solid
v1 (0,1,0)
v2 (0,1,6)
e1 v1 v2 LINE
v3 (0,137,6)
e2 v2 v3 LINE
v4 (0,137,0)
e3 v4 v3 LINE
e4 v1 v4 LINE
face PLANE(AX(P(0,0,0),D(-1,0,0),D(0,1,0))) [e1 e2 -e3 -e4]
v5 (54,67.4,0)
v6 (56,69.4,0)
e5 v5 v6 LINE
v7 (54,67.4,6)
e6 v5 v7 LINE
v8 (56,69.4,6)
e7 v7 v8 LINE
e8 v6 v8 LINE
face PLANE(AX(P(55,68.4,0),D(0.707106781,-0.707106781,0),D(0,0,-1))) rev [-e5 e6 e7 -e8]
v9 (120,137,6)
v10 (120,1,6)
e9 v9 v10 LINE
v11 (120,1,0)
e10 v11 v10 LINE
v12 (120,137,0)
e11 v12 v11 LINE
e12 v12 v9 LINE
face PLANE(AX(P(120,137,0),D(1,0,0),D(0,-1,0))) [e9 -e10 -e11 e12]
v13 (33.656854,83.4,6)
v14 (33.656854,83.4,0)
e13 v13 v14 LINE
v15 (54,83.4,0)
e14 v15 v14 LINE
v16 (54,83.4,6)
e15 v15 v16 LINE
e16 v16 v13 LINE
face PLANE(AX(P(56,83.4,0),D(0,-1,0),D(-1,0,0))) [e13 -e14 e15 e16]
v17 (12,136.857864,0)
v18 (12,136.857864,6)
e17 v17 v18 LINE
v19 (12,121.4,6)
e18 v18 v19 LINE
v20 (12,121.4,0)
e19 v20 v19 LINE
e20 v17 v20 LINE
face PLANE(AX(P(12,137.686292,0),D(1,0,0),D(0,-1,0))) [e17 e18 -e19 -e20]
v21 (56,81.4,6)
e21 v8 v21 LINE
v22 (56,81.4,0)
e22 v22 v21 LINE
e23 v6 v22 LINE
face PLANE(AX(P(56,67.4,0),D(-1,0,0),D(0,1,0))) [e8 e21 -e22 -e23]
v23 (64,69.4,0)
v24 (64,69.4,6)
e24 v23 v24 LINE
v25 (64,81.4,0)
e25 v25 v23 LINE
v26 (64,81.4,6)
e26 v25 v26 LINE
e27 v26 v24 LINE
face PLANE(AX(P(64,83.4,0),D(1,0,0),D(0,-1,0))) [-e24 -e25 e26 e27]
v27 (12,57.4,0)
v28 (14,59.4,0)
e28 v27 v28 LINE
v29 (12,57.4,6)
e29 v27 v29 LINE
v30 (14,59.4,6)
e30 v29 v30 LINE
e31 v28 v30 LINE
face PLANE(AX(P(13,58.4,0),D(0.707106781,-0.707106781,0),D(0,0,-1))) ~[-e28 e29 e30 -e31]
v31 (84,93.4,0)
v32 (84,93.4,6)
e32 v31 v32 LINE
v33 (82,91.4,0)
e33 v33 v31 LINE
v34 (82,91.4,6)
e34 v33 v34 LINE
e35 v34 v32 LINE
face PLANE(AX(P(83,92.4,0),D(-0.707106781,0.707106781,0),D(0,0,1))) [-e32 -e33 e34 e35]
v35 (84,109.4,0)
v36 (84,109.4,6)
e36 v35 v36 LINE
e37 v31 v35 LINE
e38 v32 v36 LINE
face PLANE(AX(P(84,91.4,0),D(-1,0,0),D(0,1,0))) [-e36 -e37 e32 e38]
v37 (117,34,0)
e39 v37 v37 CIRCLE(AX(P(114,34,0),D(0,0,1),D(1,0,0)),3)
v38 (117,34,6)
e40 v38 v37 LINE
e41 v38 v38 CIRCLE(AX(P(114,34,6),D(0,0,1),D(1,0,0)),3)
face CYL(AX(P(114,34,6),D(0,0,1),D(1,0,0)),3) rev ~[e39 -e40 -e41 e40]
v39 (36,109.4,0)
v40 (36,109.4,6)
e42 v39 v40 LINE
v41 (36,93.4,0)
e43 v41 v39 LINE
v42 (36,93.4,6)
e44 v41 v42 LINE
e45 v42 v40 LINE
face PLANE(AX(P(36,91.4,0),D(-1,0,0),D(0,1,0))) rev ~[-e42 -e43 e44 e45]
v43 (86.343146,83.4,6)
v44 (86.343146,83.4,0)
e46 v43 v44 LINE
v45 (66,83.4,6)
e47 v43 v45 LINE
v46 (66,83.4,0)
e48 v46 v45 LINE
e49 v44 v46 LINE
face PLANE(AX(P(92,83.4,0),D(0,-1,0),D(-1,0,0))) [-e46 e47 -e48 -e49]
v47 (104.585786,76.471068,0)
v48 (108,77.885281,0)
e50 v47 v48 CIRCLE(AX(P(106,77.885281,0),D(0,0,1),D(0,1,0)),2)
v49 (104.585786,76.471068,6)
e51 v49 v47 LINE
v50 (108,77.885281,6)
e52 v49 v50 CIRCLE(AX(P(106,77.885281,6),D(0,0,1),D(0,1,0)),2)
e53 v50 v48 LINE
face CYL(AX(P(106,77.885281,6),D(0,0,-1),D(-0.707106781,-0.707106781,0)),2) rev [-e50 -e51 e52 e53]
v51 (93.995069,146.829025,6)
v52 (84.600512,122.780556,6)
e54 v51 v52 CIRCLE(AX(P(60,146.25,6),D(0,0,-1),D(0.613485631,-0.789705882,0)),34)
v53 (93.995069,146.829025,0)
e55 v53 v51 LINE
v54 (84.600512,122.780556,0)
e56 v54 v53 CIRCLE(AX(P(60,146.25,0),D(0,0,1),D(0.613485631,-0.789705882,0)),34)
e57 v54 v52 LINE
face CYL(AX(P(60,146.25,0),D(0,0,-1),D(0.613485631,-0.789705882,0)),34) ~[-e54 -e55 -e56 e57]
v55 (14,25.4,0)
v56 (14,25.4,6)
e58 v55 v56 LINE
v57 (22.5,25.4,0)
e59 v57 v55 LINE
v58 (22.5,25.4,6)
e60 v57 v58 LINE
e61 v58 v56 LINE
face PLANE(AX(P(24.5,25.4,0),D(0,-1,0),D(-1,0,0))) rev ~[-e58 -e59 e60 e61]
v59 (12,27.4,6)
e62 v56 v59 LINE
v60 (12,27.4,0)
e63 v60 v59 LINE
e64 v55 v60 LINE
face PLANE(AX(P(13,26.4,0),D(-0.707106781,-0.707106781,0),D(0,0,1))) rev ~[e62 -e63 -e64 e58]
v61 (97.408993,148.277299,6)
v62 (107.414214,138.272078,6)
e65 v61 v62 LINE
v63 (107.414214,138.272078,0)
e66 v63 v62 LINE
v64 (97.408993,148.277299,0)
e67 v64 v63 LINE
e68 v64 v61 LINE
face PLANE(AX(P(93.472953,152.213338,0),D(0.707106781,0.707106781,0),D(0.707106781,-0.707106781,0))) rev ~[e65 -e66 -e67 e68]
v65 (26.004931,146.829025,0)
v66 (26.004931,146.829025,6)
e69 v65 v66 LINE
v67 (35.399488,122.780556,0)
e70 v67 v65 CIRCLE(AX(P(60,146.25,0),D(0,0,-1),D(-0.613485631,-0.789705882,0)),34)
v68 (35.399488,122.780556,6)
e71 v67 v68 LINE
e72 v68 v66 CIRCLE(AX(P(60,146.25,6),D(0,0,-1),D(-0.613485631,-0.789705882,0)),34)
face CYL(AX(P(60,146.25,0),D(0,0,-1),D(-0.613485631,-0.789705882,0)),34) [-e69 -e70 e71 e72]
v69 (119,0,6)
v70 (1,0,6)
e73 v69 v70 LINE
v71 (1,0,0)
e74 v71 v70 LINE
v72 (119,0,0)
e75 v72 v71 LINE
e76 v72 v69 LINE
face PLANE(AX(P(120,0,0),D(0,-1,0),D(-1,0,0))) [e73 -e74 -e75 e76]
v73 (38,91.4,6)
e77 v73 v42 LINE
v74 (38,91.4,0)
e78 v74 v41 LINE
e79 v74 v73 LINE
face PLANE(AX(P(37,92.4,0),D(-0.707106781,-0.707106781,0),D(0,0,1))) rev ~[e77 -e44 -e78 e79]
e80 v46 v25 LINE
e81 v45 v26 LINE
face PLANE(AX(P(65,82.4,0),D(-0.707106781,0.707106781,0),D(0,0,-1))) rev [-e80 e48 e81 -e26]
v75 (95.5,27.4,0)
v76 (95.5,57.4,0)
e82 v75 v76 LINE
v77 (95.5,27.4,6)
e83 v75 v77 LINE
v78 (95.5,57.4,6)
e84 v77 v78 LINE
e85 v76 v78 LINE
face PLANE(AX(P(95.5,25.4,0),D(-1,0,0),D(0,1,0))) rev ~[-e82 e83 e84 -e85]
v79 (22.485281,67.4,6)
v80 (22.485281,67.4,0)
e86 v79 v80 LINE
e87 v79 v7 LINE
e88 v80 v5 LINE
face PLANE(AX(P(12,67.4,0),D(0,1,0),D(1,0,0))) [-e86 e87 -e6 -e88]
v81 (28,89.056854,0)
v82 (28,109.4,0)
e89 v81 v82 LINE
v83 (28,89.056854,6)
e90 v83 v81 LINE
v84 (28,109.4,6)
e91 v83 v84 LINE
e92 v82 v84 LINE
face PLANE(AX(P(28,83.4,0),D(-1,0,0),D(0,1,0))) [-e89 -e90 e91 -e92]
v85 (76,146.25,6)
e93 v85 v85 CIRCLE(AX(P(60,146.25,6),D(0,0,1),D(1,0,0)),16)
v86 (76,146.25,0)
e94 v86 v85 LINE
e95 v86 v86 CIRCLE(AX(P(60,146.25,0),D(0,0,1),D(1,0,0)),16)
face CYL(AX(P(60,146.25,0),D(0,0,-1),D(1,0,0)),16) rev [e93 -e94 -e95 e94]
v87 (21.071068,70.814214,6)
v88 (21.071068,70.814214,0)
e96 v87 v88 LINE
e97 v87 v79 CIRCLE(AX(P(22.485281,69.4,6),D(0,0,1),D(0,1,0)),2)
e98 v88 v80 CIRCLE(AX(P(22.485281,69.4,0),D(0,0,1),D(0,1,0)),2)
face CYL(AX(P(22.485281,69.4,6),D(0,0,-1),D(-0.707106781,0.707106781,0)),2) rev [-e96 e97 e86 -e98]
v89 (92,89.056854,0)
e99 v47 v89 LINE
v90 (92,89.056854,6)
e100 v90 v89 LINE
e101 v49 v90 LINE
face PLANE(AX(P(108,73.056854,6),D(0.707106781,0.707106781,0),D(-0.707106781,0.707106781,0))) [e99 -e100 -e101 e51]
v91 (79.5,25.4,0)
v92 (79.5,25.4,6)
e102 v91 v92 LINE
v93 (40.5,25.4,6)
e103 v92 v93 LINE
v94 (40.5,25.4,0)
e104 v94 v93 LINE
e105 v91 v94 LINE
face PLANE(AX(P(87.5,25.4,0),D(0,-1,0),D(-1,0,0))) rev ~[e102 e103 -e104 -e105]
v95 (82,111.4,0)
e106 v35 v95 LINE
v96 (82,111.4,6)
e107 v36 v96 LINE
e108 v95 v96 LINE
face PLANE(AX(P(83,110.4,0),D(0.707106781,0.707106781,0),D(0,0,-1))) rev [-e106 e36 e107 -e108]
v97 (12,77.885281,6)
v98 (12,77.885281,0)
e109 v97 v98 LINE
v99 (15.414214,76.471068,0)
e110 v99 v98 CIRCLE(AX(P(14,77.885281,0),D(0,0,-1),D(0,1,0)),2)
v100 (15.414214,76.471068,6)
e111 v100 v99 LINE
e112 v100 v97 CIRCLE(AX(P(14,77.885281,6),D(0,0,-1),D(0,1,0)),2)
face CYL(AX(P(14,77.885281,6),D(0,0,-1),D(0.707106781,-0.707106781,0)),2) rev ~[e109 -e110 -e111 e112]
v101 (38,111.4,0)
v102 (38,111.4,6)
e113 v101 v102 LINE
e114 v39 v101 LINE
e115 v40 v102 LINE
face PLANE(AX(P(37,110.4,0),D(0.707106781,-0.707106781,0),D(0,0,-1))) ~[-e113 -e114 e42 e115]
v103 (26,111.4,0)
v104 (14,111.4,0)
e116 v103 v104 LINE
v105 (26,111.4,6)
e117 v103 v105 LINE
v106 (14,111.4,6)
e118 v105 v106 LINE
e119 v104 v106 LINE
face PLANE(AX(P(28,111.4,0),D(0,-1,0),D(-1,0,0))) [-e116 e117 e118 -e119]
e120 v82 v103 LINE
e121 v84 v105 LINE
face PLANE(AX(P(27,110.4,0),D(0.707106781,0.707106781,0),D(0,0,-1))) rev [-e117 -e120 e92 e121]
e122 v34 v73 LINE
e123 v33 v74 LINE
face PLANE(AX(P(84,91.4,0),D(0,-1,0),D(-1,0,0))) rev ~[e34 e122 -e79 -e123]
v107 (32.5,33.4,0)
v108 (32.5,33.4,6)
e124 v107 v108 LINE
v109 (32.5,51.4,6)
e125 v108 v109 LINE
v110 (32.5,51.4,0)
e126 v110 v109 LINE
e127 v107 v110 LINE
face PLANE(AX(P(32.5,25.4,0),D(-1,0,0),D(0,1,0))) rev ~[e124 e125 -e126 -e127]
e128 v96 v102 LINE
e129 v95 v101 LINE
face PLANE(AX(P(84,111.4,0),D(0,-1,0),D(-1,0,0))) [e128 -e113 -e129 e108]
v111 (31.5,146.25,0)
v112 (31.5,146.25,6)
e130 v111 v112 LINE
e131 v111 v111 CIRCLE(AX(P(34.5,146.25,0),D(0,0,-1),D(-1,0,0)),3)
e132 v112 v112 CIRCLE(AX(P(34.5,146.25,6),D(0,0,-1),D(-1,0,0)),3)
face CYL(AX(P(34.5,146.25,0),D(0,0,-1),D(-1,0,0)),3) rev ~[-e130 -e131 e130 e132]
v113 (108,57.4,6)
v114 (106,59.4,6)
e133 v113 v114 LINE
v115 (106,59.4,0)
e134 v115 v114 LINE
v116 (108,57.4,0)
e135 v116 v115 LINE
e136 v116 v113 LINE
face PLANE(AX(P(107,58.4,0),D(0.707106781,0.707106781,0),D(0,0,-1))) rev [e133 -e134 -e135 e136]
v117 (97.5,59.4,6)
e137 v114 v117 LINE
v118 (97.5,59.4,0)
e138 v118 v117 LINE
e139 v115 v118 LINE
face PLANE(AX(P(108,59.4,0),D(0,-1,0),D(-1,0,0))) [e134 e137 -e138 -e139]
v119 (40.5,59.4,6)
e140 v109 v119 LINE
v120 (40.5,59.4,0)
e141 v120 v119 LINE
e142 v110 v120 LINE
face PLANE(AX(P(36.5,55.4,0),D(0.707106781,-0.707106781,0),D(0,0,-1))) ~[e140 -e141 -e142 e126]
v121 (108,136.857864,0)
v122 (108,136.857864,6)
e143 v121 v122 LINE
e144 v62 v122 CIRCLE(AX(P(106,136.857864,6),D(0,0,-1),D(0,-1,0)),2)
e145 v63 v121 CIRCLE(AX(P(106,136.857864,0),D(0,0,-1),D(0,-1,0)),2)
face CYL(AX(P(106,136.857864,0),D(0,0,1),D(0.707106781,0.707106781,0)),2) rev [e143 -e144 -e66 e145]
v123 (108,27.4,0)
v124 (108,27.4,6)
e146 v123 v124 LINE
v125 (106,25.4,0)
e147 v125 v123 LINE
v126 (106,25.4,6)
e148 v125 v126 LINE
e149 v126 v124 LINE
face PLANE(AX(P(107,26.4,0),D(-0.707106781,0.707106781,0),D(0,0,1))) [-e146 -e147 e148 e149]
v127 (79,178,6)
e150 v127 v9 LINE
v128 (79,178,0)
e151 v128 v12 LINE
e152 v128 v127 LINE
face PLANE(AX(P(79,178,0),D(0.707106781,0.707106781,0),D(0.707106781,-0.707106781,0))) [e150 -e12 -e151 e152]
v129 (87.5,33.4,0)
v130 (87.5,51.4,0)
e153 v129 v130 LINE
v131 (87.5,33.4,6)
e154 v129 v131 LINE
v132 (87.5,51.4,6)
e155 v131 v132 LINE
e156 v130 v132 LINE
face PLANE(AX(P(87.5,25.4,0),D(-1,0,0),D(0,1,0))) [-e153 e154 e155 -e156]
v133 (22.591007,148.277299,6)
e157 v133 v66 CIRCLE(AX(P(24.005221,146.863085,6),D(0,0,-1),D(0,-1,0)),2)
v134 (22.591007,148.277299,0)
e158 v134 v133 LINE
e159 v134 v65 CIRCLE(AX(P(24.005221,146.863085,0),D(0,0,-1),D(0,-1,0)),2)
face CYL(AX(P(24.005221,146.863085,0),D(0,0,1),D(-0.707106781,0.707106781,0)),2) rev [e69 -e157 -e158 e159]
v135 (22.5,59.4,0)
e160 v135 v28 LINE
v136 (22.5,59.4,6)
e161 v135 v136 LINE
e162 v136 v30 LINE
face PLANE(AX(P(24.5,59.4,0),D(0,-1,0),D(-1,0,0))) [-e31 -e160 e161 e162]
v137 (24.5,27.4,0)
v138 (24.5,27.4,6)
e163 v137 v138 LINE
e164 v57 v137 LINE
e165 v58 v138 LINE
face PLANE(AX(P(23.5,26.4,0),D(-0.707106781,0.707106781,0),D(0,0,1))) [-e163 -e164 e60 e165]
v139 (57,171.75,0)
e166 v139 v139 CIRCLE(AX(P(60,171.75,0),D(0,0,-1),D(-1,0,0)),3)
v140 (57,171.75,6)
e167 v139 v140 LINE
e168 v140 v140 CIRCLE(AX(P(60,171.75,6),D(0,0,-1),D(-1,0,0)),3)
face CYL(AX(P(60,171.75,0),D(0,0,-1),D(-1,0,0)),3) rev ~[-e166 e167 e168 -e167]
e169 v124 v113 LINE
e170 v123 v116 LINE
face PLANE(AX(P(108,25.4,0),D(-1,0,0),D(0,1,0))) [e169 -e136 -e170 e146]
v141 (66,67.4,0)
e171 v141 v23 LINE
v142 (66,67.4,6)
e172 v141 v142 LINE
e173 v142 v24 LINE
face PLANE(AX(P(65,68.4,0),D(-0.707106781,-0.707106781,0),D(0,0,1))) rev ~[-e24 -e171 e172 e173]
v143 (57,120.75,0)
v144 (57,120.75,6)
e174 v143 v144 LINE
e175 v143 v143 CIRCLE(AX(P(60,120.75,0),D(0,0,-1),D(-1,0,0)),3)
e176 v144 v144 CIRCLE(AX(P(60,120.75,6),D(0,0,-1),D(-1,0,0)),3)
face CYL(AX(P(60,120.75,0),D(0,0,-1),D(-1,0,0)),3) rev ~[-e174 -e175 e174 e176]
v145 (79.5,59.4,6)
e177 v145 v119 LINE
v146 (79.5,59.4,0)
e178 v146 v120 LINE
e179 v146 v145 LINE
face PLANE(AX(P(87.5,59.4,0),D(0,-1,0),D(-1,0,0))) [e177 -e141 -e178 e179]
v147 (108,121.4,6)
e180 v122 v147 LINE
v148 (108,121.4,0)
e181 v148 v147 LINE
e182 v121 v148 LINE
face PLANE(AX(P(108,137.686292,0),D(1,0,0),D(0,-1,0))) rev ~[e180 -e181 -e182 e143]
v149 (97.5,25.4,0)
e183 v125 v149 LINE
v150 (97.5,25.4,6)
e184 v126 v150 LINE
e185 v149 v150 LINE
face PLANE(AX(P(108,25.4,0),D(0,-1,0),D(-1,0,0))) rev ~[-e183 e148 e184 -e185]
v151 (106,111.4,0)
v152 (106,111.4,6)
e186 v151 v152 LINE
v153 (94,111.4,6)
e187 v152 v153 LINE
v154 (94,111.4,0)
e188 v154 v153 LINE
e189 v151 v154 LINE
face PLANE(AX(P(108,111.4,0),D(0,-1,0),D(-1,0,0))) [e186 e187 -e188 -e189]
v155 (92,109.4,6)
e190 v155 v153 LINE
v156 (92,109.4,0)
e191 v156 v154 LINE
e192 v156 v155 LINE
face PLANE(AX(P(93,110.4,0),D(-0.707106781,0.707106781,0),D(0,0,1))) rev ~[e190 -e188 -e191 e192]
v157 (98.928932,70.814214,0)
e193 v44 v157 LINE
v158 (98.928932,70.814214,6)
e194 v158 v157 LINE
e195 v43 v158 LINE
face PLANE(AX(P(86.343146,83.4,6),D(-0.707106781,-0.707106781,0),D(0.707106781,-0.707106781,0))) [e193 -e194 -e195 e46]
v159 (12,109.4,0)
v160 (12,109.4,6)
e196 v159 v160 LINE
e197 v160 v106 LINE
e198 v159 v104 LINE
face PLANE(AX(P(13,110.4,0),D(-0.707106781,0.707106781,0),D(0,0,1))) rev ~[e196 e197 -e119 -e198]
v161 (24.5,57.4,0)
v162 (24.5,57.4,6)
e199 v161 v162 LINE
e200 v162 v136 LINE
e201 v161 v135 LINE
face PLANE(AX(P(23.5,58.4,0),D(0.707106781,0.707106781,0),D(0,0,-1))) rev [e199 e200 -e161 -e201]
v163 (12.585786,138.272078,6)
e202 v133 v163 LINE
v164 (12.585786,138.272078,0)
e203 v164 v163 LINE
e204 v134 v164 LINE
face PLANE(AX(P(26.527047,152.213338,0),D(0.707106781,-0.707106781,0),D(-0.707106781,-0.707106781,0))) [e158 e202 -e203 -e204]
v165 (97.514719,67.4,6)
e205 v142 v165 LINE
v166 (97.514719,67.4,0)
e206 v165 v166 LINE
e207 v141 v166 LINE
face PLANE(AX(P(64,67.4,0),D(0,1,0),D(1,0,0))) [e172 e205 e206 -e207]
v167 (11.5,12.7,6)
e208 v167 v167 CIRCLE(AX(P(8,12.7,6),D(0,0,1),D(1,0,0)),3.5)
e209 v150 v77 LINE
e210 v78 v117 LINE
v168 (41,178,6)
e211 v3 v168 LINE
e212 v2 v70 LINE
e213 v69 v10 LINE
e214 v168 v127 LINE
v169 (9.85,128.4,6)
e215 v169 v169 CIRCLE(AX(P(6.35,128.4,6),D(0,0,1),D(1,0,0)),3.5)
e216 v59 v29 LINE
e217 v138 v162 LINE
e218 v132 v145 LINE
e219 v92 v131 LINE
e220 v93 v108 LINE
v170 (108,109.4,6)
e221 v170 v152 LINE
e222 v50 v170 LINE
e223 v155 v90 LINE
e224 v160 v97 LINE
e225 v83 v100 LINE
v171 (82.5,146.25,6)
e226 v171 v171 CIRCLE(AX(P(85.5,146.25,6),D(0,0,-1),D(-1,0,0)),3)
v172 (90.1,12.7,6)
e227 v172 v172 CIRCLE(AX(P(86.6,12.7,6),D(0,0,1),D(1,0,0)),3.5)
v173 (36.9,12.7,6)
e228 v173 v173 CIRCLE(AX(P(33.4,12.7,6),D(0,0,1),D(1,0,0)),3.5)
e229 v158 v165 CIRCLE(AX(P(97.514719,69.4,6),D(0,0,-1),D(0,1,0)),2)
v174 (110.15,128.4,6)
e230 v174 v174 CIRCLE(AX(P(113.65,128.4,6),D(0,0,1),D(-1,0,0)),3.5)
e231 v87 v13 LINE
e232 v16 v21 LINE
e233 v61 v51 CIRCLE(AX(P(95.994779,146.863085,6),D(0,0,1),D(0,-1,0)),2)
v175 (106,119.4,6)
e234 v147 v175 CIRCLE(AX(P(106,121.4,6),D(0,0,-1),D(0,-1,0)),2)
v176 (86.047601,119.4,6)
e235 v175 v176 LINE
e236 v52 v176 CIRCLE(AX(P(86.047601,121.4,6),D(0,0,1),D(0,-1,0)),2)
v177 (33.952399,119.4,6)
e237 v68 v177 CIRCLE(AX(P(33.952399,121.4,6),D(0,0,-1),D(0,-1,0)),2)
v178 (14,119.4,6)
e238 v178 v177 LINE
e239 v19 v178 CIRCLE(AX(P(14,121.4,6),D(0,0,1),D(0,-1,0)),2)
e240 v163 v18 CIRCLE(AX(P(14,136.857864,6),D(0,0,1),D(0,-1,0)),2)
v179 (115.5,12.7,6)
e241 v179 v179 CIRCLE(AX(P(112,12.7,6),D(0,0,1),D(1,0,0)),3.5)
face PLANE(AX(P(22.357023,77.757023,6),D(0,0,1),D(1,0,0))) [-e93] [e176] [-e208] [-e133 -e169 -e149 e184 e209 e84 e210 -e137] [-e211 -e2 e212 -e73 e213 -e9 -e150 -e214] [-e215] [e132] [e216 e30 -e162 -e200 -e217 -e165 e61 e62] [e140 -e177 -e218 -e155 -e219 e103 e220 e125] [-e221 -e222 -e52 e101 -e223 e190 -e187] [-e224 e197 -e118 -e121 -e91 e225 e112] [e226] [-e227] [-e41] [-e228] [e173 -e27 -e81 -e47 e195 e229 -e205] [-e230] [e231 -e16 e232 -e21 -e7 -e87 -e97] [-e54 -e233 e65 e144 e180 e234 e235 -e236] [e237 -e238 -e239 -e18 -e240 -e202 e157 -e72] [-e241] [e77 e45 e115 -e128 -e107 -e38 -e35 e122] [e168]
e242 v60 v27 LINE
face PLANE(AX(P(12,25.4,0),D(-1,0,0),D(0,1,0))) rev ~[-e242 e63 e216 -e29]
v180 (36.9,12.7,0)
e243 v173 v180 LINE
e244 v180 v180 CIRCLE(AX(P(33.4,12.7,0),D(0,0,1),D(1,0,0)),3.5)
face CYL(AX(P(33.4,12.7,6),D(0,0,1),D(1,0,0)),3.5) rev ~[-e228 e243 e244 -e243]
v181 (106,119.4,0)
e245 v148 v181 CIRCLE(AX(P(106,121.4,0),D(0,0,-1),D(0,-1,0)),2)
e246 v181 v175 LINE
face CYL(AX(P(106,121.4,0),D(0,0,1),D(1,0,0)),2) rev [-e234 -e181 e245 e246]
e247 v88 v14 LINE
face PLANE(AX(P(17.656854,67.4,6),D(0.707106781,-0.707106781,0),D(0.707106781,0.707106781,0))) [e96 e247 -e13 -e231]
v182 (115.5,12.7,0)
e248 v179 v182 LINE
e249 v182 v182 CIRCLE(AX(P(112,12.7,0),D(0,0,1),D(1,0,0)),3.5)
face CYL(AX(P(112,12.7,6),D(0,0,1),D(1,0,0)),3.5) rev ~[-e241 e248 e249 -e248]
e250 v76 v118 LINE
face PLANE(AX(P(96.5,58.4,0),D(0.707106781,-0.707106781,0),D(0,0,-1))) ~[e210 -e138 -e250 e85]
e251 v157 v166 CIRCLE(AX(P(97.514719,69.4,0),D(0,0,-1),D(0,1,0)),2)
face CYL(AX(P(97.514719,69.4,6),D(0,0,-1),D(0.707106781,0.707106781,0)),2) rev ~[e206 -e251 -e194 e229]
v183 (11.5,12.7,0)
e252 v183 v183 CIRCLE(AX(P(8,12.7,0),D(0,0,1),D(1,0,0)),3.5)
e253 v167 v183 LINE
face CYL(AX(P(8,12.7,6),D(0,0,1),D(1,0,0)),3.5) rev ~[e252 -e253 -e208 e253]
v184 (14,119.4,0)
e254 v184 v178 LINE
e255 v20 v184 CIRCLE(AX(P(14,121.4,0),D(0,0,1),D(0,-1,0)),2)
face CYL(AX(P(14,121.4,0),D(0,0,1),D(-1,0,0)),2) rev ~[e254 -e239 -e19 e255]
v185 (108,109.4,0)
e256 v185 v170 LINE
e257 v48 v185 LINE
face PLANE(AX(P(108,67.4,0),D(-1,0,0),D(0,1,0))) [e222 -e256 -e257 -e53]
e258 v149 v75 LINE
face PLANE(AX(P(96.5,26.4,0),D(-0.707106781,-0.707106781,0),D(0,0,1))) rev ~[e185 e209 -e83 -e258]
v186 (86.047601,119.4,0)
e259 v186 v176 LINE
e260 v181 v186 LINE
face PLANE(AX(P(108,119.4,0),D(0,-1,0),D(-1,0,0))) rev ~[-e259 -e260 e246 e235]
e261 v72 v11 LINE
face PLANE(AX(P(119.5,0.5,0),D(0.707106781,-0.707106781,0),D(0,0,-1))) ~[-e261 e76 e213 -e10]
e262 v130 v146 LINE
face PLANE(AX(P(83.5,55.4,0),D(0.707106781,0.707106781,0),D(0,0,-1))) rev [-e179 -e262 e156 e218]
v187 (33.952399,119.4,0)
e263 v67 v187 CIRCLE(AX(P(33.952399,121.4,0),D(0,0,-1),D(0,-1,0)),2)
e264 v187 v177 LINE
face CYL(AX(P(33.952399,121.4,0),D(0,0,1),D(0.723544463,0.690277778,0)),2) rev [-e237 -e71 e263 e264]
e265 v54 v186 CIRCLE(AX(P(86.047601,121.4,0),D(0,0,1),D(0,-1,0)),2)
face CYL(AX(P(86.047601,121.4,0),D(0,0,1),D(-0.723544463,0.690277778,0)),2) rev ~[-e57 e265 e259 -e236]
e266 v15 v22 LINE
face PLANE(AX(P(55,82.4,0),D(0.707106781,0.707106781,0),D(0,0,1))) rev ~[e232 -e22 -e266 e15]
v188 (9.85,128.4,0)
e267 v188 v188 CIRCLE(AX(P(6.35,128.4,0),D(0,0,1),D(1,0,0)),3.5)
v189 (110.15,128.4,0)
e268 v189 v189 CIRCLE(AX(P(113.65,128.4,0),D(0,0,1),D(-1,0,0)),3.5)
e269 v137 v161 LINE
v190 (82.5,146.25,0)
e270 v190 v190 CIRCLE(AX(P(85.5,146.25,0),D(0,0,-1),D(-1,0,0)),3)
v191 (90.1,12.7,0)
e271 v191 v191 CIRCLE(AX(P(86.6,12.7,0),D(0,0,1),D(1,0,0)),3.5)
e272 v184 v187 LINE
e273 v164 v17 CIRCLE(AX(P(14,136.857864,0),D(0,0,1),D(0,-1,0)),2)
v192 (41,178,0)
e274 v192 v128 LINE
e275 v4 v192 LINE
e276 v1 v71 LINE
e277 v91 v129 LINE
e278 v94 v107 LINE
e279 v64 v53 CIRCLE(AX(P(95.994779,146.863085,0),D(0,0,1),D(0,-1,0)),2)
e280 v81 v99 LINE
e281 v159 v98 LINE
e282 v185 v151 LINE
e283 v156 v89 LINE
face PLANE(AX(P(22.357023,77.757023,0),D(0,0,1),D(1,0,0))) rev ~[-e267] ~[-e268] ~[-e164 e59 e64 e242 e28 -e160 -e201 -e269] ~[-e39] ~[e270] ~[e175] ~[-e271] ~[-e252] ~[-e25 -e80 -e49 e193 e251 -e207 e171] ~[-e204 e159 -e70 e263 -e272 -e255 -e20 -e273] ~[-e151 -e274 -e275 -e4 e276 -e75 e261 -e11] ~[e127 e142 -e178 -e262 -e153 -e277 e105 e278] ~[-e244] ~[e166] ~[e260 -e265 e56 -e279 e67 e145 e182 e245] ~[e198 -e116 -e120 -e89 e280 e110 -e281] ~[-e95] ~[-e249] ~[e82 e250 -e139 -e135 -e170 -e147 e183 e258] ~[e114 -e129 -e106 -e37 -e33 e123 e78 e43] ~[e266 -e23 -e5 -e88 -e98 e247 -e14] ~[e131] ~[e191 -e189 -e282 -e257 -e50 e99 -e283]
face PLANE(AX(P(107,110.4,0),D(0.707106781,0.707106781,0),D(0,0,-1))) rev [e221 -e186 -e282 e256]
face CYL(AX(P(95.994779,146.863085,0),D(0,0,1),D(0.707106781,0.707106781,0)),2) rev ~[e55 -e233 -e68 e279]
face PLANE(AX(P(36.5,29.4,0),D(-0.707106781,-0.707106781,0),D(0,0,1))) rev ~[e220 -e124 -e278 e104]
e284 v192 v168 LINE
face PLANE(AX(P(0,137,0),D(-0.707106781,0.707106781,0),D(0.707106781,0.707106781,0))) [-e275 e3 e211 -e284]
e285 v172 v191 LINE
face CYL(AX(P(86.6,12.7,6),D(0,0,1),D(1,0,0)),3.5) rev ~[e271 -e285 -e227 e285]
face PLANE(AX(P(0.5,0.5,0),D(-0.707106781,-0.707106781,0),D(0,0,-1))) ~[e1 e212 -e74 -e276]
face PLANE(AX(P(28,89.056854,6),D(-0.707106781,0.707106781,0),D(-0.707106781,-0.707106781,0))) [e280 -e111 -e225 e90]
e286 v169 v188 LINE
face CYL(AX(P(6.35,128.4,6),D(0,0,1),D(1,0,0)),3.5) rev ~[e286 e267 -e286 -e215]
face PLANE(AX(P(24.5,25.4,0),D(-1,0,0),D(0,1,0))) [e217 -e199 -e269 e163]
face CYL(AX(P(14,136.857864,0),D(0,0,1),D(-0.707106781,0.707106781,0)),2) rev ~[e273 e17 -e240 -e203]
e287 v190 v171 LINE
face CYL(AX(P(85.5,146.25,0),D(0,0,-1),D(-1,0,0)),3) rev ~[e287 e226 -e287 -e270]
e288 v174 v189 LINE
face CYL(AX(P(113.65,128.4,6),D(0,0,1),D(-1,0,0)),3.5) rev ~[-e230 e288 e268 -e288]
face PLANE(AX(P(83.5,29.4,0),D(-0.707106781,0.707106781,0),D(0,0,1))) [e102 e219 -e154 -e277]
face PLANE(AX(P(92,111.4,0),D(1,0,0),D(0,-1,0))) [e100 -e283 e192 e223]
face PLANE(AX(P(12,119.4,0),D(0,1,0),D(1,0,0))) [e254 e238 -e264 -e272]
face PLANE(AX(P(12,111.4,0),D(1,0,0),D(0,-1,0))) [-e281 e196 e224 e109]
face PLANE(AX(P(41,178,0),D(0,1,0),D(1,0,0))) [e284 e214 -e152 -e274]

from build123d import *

# Parameters (mm, degrees)
ESBO_O1_R                = 16
RESSALTO_EXTRUS_O1_DEPTH = 6
ESBO_O2_R                = 3
ESBO_O2_W                = 55
ESBO_O2_H                = 34
ESBO_O2_W_2              = 48
ESBO_O2_H_2              = 20
ESBO_O2_W_3              = 12.5
CORTE_EXTRUS_O1_DEPTH    = 215.755675129
RESSALTO_EXTRUS_O2_DEPTH = 6
ESBO_O4_R                = 3.5
CORTE_EXTRUS_O2_DEPTH    = 215.755675129
FILETE1_R                = 2
CHANFRO1_SIZE            = 8
CHANFRO2_SIZE            = 2
ESBO_O5_R                = 3.5
CORTE_EXTRUS_O3_DEPTH    = 215.755675129
CHANFRO3_SIZE            = 1
ESBO_O8_R                = 3
CORTE_EXTRUS_O5_DEPTH    = 215.755675129


with BuildPart() as part:
    # Esboço1 → Ressalto-extrusão1 (new body)
    with BuildSketch(Plane.XY):
        Polygon((0, 0), (0, 137), (41, 178), (79, 178), (120, 137), (120, 0), align=None)
        with Locations((60, 146.25)):
            Circle(ESBO_O1_R, mode=Mode.SUBTRACT)
    extrude(amount=RESSALTO_EXTRUS_O1_DEPTH)

    # Esboço2 → Corte-extrusão1 (cut, through all)
    with BuildSketch(Plane(origin=(0, 0, 0), x_dir=(-1, 0, 0), z_dir=(0, 0, -1))):
        with Locations((-60, 171.75)):
            Circle(ESBO_O2_R)
        with Locations((-34.5, 146.25)):
            Circle(ESBO_O2_R)
        with Locations((-60, 120.75)):
            Circle(ESBO_O2_R)
        with Locations((-85.5, 146.25)):
            Circle(ESBO_O2_R)
        with Locations((-60, 42.4)):
            Rectangle(ESBO_O2_W, ESBO_O2_H)
        Polygon((-56, 83.4), (-28, 83.4), (-28, 111.4), (-12, 111.4), (-12, 67.4), (-56, 67.4), align=None)
        with Locations((-60, 101.4)):
            Rectangle(ESBO_O2_W_2, ESBO_O2_H_2)
        with Locations((-18.25, 42.4)):
            Rectangle(ESBO_O2_W_3, ESBO_O2_H)
        Polygon((-64, 83.4), (-64, 67.4), (-108, 67.4), (-108, 111.4), (-92, 111.4), (-92, 83.4), align=None)
        with Locations((-101.75, 42.4)):
            Rectangle(ESBO_O2_W_3, ESBO_O2_H)
        with BuildLine():
            Line((-93.472953207, 152.213338294), (-108, 137.686291501))
            Line((-108, 137.686291501), (-108, 119.4))
            Line((-108, 119.4), (-80.858511452, 119.4))
            ThreePointArc((-80.858511452, 119.4), (-91.735718134, 134.049828095), (-93.472953207, 152.213338294))
        make_face()
        with BuildLine():
            Line((-26.527046793, 152.213338294), (-12, 137.686291501))
            Line((-12, 137.686291501), (-12, 119.4))
            Line((-12, 119.4), (-39.141488548, 119.4))
            ThreePointArc((-39.141488548, 119.4), (-28.264281866, 134.049828095), (-26.527046793, 152.213338294))
        make_face()
    extrude(amount=-CORTE_EXTRUS_O1_DEPTH, mode=Mode.SUBTRACT)

    # Esboço3 → Ressalto-extrusão2 (add, through all)
    with BuildSketch(Plane.XY.offset(6)):
        Polygon((28, 89.056854249), (12, 73.056854249), (12, 67.4), (17.656854249, 67.4), (33.656854249, 83.4), (28, 83.4), align=None)
        Polygon((86.343145751, 83.4), (102.343145751, 67.4), (108, 67.4), (108, 73.056854249), (92, 89.056854249), (92, 83.4), align=None)
    extrude(amount=-RESSALTO_EXTRUS_O2_DEPTH)

    # Esboço4 → Corte-extrusão2 (cut, through all)
    with BuildSketch(Plane.XY.offset(6)):
        with Locations((8, 12.7)):
            Circle(ESBO_O4_R)
        with Locations((33.4, 12.7)):
            Circle(ESBO_O4_R)
        with Locations((86.6, 12.7)):
            Circle(ESBO_O4_R)
        with Locations((112, 12.7)):
            Circle(ESBO_O4_R)
    extrude(amount=-CORTE_EXTRUS_O2_DEPTH, mode=Mode.SUBTRACT)

    # Filete1
    filete1_edges = [part.edges().sort_by_distance(p)[0] for p in [
        (39.141488548, 119.4, 3),
        (26.527046793, 152.213338294, 3),
        (12, 137.686291501, 3),
        (12, 119.4, 3),
        (108, 73.056854249, 3),
        (102.343145751, 67.4, 3),
        (17.656854249, 67.4, 3),
        (12, 73.056854249, 3),
        (93.472953207, 152.213338294, 3),
        (80.858511452, 119.4, 3),
        (108, 119.4, 3),
        (108, 137.686291501, 3),
    ]]
    fillet(filete1_edges, radius=FILETE1_R)

    # Chanfro1
    chanfro1_edges = [part.edges().sort_by_distance(p)[0] for p in [
        (87.5, 25.4, 3),
        (87.5, 59.4, 3),
        (32.5, 59.4, 3),
        (32.5, 25.4, 3),
    ]]
    chamfer(chanfro1_edges, length=CHANFRO1_SIZE)

    # Chanfro2
    chanfro2_edges = [part.edges().sort_by_distance(p)[0] for p in [
        (64, 83.4, 3),
        (64, 67.4, 3),
        (108, 111.4, 3),
        (92, 111.4, 3),
        (84, 91.4, 3),
        (84, 111.4, 3),
        (36, 111.4, 3),
        (36, 91.4, 3),
        (95.5, 25.4, 3),
        (108, 25.4, 3),
        (108, 59.4, 3),
        (95.5, 59.4, 3),
        (24.5, 25.4, 3),
        (24.5, 59.4, 3),
        (12, 59.4, 3),
        (12, 25.4, 3),
        (28, 111.4, 3),
        (12, 111.4, 3),
        (56, 67.4, 3),
        (56, 83.4, 3),
    ]]
    chamfer(chanfro2_edges, length=CHANFRO2_SIZE)

    # Esboço5 → Corte-extrusão3 (cut, through all)
    with BuildSketch(Plane.XY.offset(6)):
        with Locations((6.35, 128.4)):
            Circle(ESBO_O5_R)
        with Locations(Location((113.65, 128.4, 0), (0, 0, 180))):
            Circle(ESBO_O5_R)
    extrude(amount=-CORTE_EXTRUS_O3_DEPTH, mode=Mode.SUBTRACT)

    # Chanfro3
    chanfro3_edges = [part.edges().sort_by_distance(p)[0] for p in [
        (0, 0, 3),
        (120, 0, 3),
    ]]
    chamfer(chanfro3_edges, length=CHANFRO3_SIZE)

    # Esboço8 → Corte-extrusão5 (cut, through all)
    with BuildSketch(Plane.XY.offset(6)):
        with Locations((114, 34)):
            Circle(ESBO_O8_R)
    extrude(amount=-CORTE_EXTRUS_O5_DEPTH, mode=Mode.SUBTRACT)


solid = part.part
